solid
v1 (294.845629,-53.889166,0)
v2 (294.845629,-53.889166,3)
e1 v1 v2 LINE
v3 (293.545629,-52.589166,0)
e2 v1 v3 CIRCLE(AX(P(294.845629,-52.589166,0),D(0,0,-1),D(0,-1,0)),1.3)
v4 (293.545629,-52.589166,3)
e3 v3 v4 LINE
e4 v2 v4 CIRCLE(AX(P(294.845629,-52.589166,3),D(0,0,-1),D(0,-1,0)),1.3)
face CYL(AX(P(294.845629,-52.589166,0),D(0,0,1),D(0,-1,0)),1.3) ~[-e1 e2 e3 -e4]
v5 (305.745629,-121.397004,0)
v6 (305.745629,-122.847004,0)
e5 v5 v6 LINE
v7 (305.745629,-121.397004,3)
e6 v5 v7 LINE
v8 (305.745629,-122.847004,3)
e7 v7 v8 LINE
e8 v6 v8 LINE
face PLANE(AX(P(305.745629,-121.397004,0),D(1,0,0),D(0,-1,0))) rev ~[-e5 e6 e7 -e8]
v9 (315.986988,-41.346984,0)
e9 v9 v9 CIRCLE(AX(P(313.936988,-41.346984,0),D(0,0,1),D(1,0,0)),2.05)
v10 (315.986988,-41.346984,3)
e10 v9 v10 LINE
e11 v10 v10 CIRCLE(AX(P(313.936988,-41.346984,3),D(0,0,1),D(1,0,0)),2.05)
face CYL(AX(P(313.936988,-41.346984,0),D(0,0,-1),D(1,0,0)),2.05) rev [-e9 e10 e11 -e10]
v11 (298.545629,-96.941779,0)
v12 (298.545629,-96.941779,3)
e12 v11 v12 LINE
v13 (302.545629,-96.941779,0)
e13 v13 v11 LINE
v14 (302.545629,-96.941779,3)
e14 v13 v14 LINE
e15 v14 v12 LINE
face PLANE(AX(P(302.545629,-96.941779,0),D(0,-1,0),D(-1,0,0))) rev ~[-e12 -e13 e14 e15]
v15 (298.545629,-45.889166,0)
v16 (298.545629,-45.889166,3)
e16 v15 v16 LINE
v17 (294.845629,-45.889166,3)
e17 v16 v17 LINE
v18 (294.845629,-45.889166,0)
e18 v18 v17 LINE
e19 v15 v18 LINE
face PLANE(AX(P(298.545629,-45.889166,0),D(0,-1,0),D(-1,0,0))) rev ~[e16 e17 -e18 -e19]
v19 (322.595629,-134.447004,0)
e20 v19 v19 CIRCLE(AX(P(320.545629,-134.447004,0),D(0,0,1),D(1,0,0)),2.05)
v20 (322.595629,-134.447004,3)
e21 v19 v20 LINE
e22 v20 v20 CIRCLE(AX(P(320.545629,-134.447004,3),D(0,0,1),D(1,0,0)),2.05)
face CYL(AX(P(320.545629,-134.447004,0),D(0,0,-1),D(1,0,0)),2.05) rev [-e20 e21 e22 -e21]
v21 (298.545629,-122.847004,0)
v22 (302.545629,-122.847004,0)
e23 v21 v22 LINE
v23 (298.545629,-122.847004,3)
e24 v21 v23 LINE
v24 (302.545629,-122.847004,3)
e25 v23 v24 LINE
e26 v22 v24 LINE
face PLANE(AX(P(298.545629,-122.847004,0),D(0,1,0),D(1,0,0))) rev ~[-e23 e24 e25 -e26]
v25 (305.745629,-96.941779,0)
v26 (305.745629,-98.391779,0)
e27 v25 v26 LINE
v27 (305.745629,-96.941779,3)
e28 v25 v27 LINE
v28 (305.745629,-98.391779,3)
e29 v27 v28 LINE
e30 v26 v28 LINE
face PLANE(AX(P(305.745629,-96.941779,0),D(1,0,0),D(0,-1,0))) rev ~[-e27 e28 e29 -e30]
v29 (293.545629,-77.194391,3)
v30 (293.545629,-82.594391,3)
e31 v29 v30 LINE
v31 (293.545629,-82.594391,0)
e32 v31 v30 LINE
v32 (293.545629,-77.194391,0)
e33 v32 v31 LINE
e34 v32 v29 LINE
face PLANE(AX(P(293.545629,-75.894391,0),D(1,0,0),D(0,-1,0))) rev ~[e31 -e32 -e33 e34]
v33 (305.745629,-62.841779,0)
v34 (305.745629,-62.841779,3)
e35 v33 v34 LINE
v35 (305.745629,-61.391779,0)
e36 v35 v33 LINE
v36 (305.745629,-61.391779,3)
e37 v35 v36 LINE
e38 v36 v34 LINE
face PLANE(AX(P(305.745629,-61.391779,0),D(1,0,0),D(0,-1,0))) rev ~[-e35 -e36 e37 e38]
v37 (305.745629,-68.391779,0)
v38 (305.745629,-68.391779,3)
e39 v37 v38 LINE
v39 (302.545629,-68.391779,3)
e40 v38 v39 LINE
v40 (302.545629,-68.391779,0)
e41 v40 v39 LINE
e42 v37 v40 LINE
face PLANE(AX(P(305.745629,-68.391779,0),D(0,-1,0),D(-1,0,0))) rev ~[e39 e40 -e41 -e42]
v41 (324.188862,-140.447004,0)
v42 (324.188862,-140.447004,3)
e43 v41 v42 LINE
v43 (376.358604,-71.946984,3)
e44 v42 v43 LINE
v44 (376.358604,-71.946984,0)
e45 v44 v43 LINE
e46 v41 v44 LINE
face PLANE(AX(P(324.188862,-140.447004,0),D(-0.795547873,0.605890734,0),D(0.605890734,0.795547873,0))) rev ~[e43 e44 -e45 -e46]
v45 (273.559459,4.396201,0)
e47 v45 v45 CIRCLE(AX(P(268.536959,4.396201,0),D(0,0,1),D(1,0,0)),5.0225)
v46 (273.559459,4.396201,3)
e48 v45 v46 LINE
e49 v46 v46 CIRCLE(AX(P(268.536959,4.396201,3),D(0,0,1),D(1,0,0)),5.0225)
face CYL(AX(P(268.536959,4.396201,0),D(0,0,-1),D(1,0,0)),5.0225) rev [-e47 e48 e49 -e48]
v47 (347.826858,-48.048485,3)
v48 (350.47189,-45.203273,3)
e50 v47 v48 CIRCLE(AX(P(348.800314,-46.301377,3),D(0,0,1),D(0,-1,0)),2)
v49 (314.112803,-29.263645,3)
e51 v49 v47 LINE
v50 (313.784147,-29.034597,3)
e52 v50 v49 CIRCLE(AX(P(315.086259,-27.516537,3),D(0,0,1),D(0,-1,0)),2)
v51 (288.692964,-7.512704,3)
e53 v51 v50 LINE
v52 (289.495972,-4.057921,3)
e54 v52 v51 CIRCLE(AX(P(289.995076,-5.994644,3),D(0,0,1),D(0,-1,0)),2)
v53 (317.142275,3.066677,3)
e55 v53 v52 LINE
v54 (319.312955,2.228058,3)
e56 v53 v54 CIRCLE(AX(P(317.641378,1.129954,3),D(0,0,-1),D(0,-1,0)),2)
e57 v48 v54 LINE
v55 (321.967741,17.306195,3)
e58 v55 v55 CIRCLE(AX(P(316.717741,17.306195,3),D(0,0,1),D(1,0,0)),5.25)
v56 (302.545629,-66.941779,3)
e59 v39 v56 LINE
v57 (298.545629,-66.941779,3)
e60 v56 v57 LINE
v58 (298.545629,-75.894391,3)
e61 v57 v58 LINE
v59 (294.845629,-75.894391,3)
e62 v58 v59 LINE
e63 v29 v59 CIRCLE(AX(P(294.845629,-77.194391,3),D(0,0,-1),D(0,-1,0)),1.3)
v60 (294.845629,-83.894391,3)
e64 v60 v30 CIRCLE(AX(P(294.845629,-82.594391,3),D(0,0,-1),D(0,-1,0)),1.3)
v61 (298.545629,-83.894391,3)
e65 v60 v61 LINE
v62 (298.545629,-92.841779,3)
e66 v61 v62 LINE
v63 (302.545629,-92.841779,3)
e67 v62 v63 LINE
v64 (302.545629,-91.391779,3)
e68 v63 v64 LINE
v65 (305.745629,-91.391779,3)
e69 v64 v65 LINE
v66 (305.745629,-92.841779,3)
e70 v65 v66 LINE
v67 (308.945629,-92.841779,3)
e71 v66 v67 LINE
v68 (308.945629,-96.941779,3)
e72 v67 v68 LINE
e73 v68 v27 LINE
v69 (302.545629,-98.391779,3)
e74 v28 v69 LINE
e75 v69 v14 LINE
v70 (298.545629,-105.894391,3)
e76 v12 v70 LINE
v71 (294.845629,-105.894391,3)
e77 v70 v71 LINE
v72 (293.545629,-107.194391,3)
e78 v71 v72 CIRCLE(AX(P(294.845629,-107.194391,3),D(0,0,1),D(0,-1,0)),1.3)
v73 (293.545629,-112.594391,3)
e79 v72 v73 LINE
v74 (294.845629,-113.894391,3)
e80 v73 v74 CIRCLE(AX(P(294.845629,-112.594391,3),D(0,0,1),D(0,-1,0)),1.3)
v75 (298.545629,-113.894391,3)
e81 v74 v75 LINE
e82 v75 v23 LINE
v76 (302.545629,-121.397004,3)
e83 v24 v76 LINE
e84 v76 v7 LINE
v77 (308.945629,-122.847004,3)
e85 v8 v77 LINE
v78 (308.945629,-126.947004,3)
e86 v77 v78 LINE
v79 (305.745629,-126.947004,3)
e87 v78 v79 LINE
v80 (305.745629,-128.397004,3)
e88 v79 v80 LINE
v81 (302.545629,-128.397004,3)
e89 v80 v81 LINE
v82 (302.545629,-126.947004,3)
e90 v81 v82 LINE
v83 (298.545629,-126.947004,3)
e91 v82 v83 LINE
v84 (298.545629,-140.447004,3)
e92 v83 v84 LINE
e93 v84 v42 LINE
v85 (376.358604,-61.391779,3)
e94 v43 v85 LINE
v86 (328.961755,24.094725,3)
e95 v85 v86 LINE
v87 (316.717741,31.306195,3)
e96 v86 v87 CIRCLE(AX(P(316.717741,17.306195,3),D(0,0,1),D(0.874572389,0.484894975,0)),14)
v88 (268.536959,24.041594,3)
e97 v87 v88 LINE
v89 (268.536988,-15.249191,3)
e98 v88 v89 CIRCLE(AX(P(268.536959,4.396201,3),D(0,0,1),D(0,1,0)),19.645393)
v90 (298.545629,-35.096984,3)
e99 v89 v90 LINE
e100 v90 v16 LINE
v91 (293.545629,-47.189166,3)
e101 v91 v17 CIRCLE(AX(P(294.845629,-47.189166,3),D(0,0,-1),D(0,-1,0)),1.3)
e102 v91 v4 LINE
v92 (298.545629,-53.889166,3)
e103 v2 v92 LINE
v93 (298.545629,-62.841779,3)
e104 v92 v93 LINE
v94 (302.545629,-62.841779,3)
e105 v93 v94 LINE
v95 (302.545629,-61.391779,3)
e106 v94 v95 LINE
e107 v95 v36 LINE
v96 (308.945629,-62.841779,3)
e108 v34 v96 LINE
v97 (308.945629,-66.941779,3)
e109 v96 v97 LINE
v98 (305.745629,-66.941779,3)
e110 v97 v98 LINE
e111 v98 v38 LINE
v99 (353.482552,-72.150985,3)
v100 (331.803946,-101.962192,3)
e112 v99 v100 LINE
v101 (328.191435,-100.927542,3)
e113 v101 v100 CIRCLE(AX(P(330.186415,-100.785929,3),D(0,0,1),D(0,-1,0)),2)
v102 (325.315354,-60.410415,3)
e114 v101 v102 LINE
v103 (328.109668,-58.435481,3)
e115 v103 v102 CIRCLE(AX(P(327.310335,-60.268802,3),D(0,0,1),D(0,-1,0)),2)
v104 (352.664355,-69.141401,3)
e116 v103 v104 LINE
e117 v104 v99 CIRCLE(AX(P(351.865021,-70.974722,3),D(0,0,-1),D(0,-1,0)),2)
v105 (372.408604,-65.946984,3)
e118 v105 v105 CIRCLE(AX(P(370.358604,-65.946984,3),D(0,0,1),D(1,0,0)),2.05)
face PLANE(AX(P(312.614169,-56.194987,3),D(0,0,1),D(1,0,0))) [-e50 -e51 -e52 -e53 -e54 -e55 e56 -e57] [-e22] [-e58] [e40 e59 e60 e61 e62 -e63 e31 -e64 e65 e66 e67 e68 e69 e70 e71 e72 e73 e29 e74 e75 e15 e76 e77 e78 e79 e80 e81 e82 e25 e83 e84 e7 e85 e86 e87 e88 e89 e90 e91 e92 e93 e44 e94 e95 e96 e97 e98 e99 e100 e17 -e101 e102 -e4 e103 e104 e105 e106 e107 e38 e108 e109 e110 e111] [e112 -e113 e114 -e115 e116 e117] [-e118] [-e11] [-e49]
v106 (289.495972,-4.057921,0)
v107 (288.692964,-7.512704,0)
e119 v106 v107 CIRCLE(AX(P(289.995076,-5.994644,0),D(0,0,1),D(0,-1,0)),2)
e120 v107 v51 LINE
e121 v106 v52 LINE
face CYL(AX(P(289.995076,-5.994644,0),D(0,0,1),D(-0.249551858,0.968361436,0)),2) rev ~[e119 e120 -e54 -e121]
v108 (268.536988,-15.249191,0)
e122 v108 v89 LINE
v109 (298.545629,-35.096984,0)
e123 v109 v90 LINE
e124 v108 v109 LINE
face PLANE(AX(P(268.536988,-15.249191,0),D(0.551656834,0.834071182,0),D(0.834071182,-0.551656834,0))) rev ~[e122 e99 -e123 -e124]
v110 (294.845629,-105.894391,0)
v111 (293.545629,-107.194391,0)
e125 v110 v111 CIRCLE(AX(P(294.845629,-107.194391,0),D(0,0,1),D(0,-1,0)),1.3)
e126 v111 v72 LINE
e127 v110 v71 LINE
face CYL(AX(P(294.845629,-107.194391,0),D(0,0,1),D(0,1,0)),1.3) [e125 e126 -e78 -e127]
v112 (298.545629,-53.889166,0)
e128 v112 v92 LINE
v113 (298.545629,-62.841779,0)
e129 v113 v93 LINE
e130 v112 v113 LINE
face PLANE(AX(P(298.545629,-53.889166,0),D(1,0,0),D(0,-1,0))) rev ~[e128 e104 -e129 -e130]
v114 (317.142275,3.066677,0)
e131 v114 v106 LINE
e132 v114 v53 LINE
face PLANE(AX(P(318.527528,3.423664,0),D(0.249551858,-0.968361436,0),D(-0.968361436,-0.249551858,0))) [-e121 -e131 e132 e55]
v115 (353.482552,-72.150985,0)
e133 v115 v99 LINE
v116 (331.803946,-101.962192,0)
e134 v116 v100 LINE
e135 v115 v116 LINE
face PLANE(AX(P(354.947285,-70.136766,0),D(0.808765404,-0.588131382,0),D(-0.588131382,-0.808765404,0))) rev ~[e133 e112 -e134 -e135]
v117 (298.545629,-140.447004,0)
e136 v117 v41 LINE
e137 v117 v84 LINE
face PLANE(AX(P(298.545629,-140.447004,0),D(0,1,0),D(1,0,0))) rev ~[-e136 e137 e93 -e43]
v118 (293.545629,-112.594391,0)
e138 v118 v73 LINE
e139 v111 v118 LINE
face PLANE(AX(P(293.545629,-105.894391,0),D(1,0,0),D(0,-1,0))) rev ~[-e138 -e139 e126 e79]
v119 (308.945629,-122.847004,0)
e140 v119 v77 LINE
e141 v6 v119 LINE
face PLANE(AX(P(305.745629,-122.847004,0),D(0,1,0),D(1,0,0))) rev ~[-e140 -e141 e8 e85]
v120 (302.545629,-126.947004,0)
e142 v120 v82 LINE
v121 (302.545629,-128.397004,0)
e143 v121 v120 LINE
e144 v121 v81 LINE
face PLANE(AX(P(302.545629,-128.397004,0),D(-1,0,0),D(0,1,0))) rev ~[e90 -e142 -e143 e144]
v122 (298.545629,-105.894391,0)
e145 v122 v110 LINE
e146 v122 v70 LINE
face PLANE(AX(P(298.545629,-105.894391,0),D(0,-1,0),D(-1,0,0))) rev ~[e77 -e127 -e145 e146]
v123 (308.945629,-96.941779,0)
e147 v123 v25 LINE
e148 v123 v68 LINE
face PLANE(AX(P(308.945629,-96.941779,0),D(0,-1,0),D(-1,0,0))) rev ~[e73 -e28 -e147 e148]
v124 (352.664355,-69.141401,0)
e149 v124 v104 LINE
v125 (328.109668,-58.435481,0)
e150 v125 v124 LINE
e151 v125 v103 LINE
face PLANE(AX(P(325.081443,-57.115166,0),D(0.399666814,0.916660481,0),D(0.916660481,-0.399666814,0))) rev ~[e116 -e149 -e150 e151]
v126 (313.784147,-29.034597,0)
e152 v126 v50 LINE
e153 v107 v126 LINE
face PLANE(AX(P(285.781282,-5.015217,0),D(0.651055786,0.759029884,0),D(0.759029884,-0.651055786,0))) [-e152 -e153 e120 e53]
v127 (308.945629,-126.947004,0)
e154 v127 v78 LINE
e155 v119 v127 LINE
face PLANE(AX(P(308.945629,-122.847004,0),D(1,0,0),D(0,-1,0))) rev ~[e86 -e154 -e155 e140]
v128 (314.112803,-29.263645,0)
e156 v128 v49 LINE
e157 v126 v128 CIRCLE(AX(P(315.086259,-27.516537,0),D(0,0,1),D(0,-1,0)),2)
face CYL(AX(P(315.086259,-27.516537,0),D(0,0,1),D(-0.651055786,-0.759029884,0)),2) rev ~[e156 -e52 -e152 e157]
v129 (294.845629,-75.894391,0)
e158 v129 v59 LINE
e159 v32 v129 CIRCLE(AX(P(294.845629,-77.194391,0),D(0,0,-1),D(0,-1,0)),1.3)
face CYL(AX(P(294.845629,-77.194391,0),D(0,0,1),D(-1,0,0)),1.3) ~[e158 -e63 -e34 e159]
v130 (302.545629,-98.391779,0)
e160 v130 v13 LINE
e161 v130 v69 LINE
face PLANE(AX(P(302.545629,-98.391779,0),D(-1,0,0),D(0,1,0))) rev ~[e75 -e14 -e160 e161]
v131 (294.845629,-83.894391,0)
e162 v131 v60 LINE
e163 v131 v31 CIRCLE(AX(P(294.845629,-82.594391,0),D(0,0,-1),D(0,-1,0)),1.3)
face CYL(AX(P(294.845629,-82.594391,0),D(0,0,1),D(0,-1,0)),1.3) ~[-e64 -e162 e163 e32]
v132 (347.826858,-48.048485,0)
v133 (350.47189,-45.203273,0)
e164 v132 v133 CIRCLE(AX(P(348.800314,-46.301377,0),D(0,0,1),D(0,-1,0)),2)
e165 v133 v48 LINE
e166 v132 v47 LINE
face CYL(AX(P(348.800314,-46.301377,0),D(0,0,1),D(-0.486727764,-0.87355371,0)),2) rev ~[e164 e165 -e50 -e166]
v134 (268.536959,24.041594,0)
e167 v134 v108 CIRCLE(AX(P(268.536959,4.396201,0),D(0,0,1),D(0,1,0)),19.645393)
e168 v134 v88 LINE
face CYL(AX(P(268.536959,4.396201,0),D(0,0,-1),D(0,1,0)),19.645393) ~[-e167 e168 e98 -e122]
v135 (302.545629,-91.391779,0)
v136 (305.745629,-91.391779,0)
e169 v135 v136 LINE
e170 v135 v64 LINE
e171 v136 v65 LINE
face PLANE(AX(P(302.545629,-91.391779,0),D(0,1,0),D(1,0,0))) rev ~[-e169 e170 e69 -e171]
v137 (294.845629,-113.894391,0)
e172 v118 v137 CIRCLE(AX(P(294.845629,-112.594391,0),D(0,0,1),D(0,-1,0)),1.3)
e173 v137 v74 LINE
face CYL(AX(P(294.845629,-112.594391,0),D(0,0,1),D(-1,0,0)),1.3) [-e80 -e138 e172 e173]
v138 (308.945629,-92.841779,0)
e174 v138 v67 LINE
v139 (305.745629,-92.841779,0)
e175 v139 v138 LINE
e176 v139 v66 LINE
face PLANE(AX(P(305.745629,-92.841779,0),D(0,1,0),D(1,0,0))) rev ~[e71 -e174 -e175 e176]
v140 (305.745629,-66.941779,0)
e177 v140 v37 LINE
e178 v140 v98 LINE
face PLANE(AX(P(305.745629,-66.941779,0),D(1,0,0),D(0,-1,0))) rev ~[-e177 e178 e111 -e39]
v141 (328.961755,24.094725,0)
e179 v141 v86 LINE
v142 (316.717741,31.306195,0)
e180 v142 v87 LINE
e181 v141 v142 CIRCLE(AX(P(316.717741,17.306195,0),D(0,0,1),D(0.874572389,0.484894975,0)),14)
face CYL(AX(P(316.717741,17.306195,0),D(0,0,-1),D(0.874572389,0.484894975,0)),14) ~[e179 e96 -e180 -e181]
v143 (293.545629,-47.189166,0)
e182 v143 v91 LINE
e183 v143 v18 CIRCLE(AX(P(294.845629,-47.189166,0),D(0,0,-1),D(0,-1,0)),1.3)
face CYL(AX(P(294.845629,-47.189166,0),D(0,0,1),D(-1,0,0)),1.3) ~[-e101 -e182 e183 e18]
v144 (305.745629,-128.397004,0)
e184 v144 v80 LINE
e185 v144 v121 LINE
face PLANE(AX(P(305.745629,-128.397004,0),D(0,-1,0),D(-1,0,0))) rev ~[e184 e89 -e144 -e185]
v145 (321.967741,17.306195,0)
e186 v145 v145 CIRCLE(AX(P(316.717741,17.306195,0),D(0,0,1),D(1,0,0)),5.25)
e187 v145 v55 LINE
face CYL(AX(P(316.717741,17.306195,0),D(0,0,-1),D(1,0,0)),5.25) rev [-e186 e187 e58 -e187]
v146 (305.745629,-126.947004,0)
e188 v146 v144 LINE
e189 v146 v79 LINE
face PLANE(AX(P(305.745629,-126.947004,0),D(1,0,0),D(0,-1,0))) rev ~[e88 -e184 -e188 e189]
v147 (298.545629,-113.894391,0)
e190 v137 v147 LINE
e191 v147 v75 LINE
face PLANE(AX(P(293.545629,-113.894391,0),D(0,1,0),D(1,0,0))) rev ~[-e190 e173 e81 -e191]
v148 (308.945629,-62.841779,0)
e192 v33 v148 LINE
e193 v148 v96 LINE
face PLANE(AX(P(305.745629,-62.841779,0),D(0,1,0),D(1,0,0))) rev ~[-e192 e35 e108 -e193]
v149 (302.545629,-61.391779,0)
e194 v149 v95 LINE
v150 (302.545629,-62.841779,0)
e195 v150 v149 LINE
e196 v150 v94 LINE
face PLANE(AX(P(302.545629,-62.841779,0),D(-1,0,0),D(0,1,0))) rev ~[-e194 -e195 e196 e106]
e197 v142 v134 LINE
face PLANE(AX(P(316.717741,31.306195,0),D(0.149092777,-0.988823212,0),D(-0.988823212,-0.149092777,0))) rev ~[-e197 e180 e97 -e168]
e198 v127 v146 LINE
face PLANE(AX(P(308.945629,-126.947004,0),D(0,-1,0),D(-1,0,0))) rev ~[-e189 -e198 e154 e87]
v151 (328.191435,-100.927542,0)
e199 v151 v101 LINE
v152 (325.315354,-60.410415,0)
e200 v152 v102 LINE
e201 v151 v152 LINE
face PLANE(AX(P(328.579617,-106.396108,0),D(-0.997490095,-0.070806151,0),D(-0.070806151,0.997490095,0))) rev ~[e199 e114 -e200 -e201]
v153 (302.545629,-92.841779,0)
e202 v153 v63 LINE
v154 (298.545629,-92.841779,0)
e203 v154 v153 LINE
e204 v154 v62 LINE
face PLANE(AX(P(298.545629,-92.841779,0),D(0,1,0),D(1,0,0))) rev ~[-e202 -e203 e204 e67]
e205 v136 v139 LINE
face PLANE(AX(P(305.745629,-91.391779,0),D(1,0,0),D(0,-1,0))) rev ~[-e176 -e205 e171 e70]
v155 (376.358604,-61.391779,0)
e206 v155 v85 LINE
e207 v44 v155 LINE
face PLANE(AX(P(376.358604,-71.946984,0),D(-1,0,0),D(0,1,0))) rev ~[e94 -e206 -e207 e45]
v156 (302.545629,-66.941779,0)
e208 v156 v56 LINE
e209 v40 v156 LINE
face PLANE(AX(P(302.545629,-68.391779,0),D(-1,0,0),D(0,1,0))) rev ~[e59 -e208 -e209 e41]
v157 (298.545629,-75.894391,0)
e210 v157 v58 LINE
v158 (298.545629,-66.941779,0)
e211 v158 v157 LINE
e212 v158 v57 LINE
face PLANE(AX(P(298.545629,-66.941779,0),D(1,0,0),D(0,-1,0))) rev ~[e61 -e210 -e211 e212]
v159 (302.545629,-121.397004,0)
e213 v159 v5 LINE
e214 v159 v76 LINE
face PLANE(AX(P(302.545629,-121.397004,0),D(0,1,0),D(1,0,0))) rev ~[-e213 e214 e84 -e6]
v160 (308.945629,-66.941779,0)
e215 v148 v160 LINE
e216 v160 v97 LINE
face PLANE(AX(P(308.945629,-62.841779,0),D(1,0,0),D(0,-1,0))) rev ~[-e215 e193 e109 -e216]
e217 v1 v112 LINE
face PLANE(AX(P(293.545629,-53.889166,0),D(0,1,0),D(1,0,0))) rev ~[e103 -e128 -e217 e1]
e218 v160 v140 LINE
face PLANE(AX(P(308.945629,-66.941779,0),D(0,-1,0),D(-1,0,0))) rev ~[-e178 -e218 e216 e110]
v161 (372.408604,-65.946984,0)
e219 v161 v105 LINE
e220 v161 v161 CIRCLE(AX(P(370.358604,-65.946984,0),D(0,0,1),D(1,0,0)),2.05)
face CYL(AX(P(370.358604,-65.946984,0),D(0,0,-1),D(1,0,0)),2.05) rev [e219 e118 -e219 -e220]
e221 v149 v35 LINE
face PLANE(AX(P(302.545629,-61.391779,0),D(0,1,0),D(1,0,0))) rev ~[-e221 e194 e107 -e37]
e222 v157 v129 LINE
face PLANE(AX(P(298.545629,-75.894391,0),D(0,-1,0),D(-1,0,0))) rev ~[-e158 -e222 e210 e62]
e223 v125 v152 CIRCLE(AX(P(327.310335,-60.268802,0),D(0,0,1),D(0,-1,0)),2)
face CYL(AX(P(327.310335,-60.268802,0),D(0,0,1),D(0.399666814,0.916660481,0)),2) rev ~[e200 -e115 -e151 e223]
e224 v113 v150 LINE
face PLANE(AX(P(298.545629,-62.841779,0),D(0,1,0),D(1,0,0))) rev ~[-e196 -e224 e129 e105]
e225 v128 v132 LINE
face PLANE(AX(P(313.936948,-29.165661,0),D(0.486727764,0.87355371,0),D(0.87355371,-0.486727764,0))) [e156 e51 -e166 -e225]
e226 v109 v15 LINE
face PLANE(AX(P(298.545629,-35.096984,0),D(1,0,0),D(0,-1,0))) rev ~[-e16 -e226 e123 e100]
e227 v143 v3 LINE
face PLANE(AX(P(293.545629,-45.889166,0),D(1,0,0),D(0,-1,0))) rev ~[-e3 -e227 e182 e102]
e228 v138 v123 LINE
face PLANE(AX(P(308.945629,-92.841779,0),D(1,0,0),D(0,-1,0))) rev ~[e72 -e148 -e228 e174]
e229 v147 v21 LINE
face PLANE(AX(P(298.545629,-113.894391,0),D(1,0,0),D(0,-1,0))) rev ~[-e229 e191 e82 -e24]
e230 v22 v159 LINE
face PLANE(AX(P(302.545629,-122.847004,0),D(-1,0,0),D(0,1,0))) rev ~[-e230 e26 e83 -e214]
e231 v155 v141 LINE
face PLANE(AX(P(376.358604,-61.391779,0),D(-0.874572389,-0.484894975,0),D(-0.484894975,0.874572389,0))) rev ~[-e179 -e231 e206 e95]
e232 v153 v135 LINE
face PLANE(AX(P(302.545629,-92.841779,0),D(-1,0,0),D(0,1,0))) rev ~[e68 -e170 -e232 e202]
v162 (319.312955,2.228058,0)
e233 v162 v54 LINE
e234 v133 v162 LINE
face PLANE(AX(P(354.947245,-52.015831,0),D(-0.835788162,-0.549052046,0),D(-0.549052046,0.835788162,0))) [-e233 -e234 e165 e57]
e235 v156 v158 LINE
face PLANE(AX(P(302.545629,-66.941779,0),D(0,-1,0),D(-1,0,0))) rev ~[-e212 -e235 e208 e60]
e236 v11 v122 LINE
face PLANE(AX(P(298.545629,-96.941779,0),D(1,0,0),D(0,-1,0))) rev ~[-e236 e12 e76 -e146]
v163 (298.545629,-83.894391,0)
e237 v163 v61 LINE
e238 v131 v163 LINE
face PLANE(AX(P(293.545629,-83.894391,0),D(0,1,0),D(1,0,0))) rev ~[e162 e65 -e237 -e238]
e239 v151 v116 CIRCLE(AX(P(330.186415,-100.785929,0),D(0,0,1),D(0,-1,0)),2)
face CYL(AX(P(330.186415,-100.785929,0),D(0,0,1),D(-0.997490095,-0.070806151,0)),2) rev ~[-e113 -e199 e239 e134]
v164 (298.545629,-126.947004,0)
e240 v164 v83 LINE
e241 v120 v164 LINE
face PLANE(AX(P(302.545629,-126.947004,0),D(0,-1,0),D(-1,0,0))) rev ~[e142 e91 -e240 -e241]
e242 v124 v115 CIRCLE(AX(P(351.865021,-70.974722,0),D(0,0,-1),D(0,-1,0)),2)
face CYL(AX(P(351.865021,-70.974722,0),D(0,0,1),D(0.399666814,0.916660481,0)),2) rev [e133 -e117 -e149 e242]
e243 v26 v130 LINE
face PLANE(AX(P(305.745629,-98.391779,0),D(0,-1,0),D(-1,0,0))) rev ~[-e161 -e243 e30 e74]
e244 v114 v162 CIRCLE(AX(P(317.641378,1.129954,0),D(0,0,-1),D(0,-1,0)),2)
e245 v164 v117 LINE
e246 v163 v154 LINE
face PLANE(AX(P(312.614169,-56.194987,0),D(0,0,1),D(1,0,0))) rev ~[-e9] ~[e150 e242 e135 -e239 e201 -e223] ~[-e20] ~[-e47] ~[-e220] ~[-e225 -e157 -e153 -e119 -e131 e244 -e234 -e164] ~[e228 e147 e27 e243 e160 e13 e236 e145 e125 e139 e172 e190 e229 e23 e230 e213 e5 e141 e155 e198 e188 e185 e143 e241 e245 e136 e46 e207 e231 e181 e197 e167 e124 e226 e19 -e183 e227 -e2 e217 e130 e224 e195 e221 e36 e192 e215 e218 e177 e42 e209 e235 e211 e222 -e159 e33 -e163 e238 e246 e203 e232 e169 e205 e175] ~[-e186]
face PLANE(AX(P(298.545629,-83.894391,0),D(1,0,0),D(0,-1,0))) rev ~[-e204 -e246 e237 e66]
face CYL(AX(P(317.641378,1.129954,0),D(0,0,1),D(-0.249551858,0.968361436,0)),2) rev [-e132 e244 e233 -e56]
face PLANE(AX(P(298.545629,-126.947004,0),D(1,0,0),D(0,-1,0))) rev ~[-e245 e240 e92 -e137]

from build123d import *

# Parameters (mm, degrees)
SKETCH_1_R      = 5.0225
SKETCH_1_R_2    = 2.05
SKETCH_1_R_3    = 5.25
EXTRUDE_1_DEPTH = 3
FILLET_1_R      = 2
FILLET_2_R      = 1.3


with BuildPart() as part:
    # 草图1 → 凸台-拉伸1 (new body)
    with BuildSketch(Plane.XY):
        with BuildLine():
            Line((298.545628784, -83.894391363), (298.545628784, -92.841778663))
            Line((298.545628784, -92.841778663), (302.545628784, -92.841778663))
            Line((302.545628784, -92.841778663), (302.545628784, -91.391778663))
            Line((302.545628784, -91.391778663), (305.745628784, -91.391778663))
            Line((305.745628784, -91.391778663), (305.745628784, -92.841778663))
            Line((305.745628784, -92.841778663), (308.945628784, -92.841778663))
            Line((308.945628784, -92.841778663), (308.945628784, -96.941778663))
            Line((308.945628784, -96.941778663), (305.745628784, -96.941778663))
            Line((305.745628784, -96.941778663), (305.745628784, -98.391778663))
            Line((305.745628784, -98.391778663), (302.545628784, -98.391778663))
            Line((302.545628784, -98.391778663), (302.545628784, -96.941778663))
            Line((302.545628784, -96.941778663), (298.545628784, -96.941778663))
            Line((298.545628784, -96.941778663), (298.545628784, -105.894391358))
            Line((298.545628784, -105.894391358), (293.545628784, -105.894391358))
            Line((293.545628784, -105.894391358), (293.545628784, -113.894391358))
            Line((293.545628784, -113.894391358), (298.545628784, -113.894391358))
            Line((298.545628784, -113.894391358), (298.545628784, -122.847004054))
            Line((298.545628784, -122.847004054), (302.545628784, -122.847004054))
            Line((302.545628784, -122.847004054), (302.545628784, -121.397004054))
            Line((302.545628784, -121.397004054), (305.745628784, -121.397004054))
            Line((305.745628784, -121.397004054), (305.745628784, -122.847004054))
            Line((305.745628784, -122.847004054), (308.945628784, -122.847004054))
            Line((308.945628784, -122.847004054), (308.945628784, -126.947004054))
            Line((308.945628784, -126.947004054), (305.745628784, -126.947004054))
            Line((305.745628784, -126.947004054), (305.745628784, -128.397004054))
            Line((305.745628784, -128.397004054), (302.545628784, -128.397004054))
            Line((302.545628784, -128.397004054), (302.545628784, -126.947004054))
            Line((302.545628784, -126.947004054), (298.545628784, -126.947004054))
            Line((298.545628784, -126.947004054), (298.545628784, -140.447004054))
            Line((298.545628784, -140.447004054), (324.188862368, -140.447004054))
            Line((324.188862368, -140.447004054), (376.358604426, -71.946984141))
            Line((376.358604426, -71.946984141), (376.358604426, -61.391778668))
            Line((376.358604426, -61.391778668), (328.961754808, 24.094724856))
            ThreePointArc((328.961754808, 24.094724856), (323.822689813, 29.369350164), (316.717741365, 31.306195206))
            Line((316.717741365, 31.306195206), (268.536959304, 24.041593685))
            ThreePointArc((268.536959304, 24.041593685), (248.891566772, 4.396186988), (268.536987634, -15.249191379))
            Line((268.536987634, -15.249191379), (298.545628784, -35.096984141))
            Line((298.545628784, -35.096984141), (298.545628784, -45.889165972))
            Line((298.545628784, -45.889165972), (293.545628784, -45.889165972))
            Line((293.545628784, -45.889165972), (293.545628784, -53.889165972))
            Line((293.545628784, -53.889165972), (298.545628784, -53.889165972))
            Line((298.545628784, -53.889165972), (298.545628784, -62.841778668))
            Line((298.545628784, -62.841778668), (302.545628784, -62.841778668))
            Line((302.545628784, -62.841778668), (302.545628784, -61.391778668))
            Line((302.545628784, -61.391778668), (305.745628784, -61.391778668))
            Line((305.745628784, -61.391778668), (305.745628784, -62.841778668))
            Line((305.745628784, -62.841778668), (308.945628784, -62.841778668))
            Line((308.945628784, -62.841778668), (308.945628784, -66.941778668))
            Line((308.945628784, -66.941778668), (305.745628784, -66.941778668))
            Line((305.745628784, -66.941778668), (305.745628784, -68.391778668))
            Line((305.745628784, -68.391778668), (302.545628784, -68.391778668))
            Line((302.545628784, -68.391778668), (302.545628784, -66.941778668))
            Line((302.545628784, -66.941778668), (298.545628784, -66.941778668))
            Line((298.545628784, -66.941778668), (298.545628784, -75.894391363))
            Line((298.545628784, -75.894391363), (293.545628784, -75.894391363))
            Line((293.545628784, -75.894391363), (293.545628784, -83.894391363))
            Line((293.545628784, -83.894391363), (298.545628784, -83.894391363))
        make_face()
        with Locations((268.536959304, 4.396201153)):
            Circle(SKETCH_1_R, mode=Mode.SUBTRACT)
        with Locations((320.545628784, -134.447004054)):
            Circle(SKETCH_1_R_2, mode=Mode.SUBTRACT)
        with Locations((370.358604426, -65.946984141)):
            Circle(SKETCH_1_R_2, mode=Mode.SUBTRACT)
        with Locations((313.936987634, -41.346984141)):
            Circle(SKETCH_1_R_2, mode=Mode.SUBTRACT)
        with Locations((316.717741365, 17.306195206)):
            Circle(SKETCH_1_R_3, mode=Mode.SUBTRACT)
        Polygon((354.947285032, -70.136765586), (328.579617375, -106.396108383), (325.08144343, -57.115165973), align=None, mode=Mode.SUBTRACT)
        Polygon((318.527528456, 3.423664072), (285.781281912, -5.015216674), (313.936947803, -29.165661305), (354.9472452, -52.015830841), align=None, mode=Mode.SUBTRACT)
    extrude(amount=EXTRUDE_1_DEPTH)

    # 圆角1
    fillet_1_edges = [part.edges().sort_by_distance(p)[0] for p in [
        (354.9472452, -52.015830841, 1.5),
        (318.527528456, 3.423664072, 1.5),
        (285.781281912, -5.015216674, 1.5),
        (313.936947803, -29.165661305, 1.5),
        (354.947285032, -70.136765586, 1.5),
        (325.08144343, -57.115165973, 1.5),
        (328.579617375, -106.396108383, 1.5),
    ]]
    fillet(fillet_1_edges, radius=FILLET_1_R)

    # 圆角2
    fillet_2_edges = [part.edges().sort_by_distance(p)[0] for p in [
        (293.545628784, -83.894391363, 1.5),
        (293.545628784, -75.894391363, 1.5),
        (293.545628784, -53.889165972, 1.5),
        (293.545628784, -45.889165972, 1.5),
        (293.545628784, -113.894391358, 1.5),
        (293.545628784, -105.894391358, 1.5),
    ]]
    fillet(fillet_2_edges, radius=FILLET_2_R)


solid = part.part
